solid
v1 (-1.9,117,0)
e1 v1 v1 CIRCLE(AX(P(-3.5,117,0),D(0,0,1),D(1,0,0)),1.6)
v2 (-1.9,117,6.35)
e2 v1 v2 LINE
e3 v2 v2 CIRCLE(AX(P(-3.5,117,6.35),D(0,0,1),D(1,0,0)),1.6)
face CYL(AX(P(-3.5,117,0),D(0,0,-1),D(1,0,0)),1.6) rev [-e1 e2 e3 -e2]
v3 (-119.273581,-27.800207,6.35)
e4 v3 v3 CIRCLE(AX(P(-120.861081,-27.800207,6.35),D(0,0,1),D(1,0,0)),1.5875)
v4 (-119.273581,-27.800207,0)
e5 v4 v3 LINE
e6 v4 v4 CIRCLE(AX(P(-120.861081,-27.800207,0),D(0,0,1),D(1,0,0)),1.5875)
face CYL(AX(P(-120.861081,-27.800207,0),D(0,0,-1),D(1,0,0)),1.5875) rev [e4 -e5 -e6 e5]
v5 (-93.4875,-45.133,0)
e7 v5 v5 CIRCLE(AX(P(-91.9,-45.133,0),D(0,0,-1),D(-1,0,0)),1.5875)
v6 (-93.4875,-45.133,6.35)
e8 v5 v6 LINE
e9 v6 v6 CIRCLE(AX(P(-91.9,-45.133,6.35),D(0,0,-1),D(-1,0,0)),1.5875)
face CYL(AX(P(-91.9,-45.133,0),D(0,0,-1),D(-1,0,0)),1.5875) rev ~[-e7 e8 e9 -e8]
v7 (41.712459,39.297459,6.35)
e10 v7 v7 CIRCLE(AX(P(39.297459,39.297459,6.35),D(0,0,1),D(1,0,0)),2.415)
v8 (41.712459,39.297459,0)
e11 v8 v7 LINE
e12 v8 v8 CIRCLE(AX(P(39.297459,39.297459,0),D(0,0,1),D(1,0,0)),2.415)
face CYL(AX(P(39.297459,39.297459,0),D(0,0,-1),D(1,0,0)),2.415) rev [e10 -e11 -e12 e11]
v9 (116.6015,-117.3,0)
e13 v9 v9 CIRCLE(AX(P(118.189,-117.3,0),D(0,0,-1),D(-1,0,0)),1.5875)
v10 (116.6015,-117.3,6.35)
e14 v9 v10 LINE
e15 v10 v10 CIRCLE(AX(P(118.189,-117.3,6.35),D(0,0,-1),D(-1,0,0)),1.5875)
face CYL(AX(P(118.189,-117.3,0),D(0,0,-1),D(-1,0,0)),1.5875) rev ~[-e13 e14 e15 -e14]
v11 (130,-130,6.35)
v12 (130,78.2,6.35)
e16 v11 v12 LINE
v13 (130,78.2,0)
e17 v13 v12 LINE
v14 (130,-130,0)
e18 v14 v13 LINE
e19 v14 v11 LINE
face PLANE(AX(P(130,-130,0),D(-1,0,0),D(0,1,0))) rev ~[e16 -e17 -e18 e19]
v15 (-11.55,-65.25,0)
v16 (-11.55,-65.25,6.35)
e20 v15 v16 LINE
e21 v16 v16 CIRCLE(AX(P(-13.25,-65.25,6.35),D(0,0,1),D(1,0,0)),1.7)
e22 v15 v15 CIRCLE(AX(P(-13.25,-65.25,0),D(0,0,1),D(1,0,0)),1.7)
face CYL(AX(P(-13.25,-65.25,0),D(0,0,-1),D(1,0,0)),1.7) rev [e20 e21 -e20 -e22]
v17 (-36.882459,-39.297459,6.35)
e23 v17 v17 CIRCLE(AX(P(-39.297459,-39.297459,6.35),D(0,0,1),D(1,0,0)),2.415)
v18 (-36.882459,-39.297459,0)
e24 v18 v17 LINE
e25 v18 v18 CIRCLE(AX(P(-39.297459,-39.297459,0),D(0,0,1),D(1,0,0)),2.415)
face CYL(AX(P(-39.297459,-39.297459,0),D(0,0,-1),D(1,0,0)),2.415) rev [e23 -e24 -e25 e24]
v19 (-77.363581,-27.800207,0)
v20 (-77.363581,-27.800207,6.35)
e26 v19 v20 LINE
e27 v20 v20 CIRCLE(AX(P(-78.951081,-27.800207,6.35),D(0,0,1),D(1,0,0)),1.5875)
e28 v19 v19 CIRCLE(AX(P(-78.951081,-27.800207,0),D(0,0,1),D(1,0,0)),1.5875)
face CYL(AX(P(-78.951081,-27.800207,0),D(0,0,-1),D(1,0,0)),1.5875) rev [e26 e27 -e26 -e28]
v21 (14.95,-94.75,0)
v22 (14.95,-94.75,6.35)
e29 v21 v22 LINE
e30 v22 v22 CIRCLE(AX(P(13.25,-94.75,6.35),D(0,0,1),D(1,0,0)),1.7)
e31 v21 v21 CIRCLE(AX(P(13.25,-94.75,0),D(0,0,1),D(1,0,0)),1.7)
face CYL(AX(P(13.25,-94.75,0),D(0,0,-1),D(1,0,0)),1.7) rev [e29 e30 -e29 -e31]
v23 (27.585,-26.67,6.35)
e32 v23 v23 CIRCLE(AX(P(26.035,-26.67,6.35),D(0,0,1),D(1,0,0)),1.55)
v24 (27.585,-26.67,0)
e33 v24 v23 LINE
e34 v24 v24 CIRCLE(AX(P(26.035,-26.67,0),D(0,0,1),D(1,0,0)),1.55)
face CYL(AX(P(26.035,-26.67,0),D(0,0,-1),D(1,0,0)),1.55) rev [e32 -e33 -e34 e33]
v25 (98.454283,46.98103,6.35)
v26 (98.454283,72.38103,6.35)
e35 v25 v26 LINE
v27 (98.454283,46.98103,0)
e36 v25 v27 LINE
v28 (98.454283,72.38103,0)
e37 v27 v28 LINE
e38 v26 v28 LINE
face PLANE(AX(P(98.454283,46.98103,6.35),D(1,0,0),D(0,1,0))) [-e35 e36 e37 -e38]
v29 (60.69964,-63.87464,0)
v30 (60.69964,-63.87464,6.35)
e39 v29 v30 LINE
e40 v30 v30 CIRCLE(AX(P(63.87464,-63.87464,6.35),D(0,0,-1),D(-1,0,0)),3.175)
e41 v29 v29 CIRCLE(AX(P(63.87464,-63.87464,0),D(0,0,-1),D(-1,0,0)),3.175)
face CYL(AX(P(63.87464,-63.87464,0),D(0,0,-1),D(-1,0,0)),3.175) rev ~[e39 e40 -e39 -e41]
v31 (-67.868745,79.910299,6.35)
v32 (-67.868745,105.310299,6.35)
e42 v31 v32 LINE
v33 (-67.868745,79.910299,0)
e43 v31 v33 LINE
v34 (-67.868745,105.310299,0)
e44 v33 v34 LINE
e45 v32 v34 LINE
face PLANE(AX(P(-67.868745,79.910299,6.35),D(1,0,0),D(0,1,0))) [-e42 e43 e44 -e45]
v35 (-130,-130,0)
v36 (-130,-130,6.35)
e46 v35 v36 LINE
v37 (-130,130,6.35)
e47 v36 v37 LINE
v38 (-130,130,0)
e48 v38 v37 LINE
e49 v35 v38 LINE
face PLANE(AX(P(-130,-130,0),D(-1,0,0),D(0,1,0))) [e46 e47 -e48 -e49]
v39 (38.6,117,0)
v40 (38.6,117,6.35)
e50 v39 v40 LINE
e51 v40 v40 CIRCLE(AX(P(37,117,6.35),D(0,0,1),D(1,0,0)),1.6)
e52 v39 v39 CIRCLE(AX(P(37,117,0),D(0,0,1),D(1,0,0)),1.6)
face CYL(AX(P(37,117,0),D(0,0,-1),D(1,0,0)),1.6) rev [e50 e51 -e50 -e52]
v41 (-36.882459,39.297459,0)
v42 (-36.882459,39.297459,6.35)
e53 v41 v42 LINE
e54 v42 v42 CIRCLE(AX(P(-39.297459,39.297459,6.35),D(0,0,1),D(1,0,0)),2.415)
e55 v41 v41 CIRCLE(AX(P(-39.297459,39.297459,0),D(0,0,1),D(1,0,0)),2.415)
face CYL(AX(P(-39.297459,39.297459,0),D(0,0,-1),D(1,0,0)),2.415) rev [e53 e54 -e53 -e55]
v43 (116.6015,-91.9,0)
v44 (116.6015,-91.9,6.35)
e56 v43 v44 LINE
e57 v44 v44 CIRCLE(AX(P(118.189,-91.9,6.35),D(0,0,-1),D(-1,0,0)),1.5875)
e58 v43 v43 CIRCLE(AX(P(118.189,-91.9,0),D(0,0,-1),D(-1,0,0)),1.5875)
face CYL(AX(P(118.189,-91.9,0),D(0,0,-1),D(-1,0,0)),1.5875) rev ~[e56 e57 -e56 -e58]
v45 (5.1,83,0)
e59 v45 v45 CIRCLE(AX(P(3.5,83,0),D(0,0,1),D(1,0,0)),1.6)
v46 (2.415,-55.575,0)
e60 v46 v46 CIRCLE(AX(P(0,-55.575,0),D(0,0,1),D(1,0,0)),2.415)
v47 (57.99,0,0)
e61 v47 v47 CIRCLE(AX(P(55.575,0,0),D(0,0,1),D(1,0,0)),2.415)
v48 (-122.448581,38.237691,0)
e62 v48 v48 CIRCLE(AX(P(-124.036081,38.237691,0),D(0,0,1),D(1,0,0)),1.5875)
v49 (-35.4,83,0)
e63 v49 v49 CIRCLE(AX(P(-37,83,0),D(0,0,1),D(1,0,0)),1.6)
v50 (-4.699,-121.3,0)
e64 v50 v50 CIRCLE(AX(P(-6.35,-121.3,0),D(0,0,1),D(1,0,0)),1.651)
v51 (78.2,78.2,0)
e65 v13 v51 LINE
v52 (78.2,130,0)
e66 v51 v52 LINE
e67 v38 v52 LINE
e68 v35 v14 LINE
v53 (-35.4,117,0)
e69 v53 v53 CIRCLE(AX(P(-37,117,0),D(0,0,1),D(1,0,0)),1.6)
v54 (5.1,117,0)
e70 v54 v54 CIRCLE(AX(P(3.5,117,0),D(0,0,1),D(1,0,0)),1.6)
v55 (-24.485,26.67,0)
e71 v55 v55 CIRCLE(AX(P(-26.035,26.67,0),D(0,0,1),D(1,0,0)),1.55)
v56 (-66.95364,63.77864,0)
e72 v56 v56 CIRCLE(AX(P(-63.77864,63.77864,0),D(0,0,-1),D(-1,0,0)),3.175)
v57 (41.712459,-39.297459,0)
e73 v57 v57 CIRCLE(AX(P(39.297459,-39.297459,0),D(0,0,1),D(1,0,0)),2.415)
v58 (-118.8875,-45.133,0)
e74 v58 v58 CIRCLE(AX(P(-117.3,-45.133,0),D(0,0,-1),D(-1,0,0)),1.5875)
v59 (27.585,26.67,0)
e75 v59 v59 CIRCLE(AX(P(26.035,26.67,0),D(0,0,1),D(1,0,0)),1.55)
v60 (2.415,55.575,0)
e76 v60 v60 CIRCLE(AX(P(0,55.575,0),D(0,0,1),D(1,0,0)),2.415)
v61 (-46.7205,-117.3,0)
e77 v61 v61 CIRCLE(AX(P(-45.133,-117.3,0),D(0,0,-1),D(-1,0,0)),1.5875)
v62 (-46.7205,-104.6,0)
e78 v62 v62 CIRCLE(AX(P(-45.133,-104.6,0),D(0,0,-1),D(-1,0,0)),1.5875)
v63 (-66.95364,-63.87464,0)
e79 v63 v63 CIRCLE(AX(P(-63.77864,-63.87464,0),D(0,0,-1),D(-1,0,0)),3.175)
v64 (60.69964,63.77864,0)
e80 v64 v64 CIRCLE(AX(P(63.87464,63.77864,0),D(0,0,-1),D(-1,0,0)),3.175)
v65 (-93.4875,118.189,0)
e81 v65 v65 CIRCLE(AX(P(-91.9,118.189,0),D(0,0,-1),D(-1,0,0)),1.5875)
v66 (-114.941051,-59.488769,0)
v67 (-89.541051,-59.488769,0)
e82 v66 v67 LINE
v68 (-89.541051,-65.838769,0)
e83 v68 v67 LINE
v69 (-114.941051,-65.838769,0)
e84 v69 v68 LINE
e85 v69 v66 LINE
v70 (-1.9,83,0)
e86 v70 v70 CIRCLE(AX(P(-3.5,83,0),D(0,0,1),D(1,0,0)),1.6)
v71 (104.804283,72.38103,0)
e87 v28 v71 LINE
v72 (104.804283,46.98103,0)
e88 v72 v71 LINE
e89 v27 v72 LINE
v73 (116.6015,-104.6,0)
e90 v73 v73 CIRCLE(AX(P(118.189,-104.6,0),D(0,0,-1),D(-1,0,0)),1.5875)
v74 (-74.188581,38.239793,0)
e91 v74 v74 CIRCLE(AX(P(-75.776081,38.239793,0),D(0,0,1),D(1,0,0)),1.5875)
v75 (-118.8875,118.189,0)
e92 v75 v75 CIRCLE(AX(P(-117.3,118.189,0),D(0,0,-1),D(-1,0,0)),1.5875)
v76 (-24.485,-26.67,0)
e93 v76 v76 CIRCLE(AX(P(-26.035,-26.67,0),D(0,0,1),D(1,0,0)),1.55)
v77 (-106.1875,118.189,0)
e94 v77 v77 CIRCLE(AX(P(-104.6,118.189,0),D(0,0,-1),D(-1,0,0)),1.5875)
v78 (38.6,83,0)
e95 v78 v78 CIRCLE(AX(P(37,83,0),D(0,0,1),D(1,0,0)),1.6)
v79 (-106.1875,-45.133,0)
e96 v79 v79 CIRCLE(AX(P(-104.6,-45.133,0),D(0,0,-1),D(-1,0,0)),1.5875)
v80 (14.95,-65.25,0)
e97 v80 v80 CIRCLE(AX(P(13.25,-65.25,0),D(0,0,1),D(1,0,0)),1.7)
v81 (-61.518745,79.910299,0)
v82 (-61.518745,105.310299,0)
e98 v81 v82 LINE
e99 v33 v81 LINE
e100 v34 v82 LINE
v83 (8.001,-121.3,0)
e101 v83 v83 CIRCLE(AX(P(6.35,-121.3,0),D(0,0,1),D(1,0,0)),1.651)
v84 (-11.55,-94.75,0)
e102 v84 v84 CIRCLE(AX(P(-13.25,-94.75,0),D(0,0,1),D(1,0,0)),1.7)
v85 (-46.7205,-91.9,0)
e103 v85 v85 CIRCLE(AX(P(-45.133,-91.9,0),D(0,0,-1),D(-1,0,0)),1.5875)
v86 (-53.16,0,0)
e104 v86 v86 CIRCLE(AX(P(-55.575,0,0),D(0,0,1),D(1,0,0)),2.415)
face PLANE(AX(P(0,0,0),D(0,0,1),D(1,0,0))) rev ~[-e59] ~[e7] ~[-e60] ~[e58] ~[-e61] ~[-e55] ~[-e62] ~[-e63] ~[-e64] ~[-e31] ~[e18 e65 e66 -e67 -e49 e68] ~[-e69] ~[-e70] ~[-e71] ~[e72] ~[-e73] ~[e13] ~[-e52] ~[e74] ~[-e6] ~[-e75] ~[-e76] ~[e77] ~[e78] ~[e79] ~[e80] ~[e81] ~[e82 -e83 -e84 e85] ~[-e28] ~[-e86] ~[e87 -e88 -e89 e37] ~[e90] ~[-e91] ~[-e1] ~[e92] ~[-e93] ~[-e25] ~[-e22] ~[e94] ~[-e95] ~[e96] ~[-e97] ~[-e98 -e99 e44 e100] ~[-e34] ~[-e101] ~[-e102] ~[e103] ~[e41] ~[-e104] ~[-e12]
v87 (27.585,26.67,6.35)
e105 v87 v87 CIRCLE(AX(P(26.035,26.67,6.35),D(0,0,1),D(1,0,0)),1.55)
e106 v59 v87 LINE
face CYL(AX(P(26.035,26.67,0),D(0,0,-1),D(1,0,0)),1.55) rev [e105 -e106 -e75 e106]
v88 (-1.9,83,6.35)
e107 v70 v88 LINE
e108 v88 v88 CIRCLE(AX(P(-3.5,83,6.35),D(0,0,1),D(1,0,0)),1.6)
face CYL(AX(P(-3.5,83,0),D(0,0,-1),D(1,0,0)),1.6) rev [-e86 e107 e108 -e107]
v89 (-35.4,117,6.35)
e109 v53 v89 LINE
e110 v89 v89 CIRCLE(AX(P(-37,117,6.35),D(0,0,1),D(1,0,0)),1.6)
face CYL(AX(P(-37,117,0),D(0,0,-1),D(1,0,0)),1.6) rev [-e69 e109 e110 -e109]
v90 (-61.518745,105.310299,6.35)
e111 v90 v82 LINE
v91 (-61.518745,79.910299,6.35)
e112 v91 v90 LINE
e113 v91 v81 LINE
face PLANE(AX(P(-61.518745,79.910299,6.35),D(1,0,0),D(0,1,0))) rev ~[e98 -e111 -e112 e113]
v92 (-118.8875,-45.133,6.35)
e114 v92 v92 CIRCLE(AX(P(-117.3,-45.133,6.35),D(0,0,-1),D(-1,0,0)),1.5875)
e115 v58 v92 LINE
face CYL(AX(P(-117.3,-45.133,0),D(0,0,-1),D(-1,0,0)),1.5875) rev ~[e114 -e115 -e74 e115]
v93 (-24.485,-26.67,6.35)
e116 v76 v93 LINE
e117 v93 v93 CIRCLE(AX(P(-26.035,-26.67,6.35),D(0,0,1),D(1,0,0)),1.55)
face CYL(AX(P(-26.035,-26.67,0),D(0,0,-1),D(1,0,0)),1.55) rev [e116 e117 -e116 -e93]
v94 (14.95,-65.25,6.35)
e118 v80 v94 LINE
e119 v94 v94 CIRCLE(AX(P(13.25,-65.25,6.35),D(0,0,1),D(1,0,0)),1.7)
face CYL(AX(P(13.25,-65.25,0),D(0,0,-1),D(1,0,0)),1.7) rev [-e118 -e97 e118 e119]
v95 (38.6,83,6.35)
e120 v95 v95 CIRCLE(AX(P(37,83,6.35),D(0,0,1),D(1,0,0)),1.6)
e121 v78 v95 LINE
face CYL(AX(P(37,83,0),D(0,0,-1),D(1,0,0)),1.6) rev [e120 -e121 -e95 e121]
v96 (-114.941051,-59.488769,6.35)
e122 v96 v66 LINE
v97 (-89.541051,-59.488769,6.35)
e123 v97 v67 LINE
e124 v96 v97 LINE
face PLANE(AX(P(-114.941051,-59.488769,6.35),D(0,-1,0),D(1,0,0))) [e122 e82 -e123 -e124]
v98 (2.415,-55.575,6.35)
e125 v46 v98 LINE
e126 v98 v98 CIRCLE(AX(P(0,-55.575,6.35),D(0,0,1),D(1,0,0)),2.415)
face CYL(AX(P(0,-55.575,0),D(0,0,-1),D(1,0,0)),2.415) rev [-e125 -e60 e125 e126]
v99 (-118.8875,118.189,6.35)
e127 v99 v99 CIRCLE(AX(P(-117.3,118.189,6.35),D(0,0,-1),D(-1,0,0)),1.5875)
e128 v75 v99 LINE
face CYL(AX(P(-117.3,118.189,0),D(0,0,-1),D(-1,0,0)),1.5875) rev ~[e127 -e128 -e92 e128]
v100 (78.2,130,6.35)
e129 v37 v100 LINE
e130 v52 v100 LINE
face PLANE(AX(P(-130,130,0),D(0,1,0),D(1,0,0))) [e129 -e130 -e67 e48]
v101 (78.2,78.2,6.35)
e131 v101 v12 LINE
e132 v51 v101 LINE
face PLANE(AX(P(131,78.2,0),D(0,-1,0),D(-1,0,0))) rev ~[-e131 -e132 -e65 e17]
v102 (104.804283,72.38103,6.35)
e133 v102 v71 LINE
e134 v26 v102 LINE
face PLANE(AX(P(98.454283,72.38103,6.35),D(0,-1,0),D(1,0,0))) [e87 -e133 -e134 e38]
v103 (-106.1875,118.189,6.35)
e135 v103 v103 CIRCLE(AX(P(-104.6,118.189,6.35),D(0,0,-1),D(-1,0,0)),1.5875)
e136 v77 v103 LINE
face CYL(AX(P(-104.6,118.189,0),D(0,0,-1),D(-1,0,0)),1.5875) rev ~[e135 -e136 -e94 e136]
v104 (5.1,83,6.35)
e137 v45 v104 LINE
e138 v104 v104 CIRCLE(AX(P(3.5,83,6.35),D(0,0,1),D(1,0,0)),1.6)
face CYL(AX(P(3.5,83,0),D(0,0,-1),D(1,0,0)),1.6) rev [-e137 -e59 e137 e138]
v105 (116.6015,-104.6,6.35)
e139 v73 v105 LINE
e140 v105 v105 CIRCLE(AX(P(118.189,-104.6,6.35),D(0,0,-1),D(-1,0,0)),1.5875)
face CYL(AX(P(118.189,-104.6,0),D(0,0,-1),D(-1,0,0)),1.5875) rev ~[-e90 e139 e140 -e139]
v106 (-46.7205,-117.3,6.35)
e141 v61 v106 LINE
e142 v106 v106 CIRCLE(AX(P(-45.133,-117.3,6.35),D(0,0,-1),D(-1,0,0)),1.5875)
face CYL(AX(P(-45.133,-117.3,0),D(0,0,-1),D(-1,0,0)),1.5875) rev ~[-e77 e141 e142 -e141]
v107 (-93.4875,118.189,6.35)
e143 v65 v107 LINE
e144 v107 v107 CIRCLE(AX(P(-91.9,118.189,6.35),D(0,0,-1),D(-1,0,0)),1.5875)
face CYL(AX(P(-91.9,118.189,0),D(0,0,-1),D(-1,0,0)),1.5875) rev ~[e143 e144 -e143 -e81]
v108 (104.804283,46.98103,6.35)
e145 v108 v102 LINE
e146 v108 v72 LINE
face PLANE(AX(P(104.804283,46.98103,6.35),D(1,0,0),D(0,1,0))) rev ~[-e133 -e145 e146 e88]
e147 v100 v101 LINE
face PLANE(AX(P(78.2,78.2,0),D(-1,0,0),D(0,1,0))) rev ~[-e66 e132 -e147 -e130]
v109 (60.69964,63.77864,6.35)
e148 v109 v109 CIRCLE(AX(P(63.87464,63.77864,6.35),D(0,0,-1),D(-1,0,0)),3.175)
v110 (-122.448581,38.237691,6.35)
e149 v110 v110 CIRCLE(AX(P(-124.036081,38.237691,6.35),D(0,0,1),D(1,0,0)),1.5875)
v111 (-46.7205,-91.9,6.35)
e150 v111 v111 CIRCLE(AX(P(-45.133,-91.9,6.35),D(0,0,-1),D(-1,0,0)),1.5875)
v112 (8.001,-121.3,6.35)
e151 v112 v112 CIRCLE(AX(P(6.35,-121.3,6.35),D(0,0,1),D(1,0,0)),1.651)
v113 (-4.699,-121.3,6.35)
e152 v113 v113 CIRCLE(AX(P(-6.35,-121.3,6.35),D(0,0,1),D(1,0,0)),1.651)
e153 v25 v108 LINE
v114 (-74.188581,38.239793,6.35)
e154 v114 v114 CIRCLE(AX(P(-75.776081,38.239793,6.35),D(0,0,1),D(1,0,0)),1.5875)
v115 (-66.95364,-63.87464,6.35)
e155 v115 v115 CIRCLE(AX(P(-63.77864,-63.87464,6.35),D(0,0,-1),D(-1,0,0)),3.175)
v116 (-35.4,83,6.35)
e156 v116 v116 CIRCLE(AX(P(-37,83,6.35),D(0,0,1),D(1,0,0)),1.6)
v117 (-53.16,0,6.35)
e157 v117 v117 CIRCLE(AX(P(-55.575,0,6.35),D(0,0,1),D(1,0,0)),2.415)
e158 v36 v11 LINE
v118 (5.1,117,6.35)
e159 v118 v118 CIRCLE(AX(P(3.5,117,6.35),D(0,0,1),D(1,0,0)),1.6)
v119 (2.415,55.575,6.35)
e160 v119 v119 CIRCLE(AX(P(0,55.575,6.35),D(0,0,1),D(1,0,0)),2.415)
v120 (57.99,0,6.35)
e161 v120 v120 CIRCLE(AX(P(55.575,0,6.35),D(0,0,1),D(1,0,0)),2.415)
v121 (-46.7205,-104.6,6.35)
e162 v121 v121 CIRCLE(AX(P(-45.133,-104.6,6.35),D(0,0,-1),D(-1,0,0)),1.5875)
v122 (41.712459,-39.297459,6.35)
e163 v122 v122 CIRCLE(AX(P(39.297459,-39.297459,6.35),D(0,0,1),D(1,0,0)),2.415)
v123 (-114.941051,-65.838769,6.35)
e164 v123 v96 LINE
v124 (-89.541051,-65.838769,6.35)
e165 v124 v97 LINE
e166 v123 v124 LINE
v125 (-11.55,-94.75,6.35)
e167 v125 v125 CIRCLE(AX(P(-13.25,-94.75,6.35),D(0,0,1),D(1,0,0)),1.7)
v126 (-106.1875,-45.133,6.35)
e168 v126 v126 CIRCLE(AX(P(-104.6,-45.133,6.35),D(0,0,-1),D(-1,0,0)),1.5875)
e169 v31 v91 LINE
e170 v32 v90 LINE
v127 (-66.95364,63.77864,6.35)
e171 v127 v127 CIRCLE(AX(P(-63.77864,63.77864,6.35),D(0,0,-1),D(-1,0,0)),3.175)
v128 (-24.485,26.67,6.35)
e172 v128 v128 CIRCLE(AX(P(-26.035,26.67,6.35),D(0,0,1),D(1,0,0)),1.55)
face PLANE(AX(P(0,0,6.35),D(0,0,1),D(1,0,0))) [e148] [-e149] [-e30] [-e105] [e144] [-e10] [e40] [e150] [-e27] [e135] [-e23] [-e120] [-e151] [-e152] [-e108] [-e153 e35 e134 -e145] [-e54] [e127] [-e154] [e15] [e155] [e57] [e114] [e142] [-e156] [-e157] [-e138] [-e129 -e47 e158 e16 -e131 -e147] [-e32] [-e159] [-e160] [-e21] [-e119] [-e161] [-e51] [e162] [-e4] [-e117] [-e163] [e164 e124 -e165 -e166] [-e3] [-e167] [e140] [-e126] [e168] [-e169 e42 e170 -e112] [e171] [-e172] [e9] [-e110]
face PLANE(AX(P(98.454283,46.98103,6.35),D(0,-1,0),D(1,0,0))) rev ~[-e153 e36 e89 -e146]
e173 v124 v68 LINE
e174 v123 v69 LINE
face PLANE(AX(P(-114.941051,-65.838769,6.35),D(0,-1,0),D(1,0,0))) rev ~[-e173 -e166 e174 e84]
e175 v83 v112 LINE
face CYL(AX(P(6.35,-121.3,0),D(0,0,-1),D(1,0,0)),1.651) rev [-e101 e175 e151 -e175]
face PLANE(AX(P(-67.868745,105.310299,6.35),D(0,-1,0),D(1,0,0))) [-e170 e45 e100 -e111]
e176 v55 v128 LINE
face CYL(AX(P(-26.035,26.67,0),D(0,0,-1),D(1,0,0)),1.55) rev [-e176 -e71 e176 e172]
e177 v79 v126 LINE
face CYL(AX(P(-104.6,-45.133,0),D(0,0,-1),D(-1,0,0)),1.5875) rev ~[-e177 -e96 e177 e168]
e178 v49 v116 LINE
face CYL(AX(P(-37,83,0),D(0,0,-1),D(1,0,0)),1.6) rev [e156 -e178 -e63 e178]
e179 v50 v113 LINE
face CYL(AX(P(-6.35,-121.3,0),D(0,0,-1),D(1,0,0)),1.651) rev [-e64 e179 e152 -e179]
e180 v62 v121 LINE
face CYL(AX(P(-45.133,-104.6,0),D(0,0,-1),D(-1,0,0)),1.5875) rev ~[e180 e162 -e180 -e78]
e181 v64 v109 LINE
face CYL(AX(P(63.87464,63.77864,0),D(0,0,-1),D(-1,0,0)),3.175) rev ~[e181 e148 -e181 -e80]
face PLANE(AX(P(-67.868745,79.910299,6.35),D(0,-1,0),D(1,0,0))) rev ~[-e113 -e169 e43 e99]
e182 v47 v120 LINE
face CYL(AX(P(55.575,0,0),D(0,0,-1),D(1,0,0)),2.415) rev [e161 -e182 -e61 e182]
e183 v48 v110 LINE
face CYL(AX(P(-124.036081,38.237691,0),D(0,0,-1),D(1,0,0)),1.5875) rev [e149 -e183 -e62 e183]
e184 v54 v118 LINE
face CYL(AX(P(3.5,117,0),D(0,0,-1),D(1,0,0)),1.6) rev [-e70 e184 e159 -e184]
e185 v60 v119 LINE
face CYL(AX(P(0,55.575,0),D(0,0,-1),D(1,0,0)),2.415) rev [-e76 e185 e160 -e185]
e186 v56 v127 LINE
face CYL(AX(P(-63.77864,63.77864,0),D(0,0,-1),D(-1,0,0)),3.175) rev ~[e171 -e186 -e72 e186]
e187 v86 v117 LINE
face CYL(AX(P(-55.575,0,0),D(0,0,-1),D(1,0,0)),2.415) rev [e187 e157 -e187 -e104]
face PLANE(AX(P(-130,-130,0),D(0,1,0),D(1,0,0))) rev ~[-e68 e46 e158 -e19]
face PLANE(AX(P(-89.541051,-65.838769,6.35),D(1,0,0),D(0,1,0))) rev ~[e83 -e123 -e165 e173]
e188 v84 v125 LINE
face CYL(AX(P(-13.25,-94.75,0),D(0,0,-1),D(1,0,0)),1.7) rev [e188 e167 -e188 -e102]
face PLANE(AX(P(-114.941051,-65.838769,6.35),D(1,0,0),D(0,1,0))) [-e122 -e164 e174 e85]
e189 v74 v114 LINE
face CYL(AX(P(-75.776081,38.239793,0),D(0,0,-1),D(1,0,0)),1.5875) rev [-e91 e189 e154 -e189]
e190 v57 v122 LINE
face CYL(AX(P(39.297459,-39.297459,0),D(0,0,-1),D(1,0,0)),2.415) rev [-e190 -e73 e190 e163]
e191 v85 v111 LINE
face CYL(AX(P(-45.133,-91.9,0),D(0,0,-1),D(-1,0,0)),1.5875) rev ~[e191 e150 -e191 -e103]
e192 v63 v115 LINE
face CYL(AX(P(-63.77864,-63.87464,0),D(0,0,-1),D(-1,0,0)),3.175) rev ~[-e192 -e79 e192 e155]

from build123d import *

# Parameters (mm, degrees)
SKETCH1_W           = 260
SKETCH1_H           = 260
SKETCH1_R           = 1.55
SKETCH1_R_2         = 1.5875
SKETCH1_R_3         = 1.6
SKETCH1_R_4         = 1.7
SKETCH1_R_5         = 2.415
SKETCH1_R_6         = 1.651
BOSS_EXTRUDE2_DEPTH = 6.35
SKETCH5_W           = 52.8
SKETCH5_H           = 52.8
CUT_EXTRUDE1_DEPTH  = 7.35
SKETCH6_R           = 3.175
CUT_EXTRUDE2_DEPTH  = 7.35
SKETCH7_R           = 1.5875
CUT_EXTRUDE3_DEPTH  = 7.35
SKETCH8_W           = 25.4
SKETCH8_H           = 6.35
SKETCH8_W_2         = 6.35
SKETCH8_H_2         = 25.4
CUT_EXTRUDE4_DEPTH  = 7.35


with BuildPart() as part:
    # Sketch1 → Boss-Extrude2 (new body)
    with BuildSketch(Plane.XY):
        Rectangle(SKETCH1_W, SKETCH1_H)
        with Locations((-26.035, 26.67)):
            Circle(SKETCH1_R, mode=Mode.SUBTRACT)
        with Locations((-26.035, -26.67)):
            Circle(SKETCH1_R, mode=Mode.SUBTRACT)
        with Locations((26.035, 26.67)):
            Circle(SKETCH1_R, mode=Mode.SUBTRACT)
        with Locations((26.035, -26.67)):
            Circle(SKETCH1_R, mode=Mode.SUBTRACT)
        with Locations((-124.036081104, 38.237690774)):
            Circle(SKETCH1_R_2, mode=Mode.SUBTRACT)
        with Locations((-120.861081104, -27.800206824)):
            Circle(SKETCH1_R_2, mode=Mode.SUBTRACT)
        with Locations((-75.776081104, 38.239793176)):
            Circle(SKETCH1_R_2, mode=Mode.SUBTRACT)
        with Locations((-37, 117)):
            Circle(SKETCH1_R_3, mode=Mode.SUBTRACT)
        with Locations((-37, 83)):
            Circle(SKETCH1_R_3, mode=Mode.SUBTRACT)
        with Locations((-3.5, 117)):
            Circle(SKETCH1_R_3, mode=Mode.SUBTRACT)
        with Locations((-3.5, 83)):
            Circle(SKETCH1_R_3, mode=Mode.SUBTRACT)
        with Locations((3.5, 117)):
            Circle(SKETCH1_R_3, mode=Mode.SUBTRACT)
        with Locations((37, 117)):
            Circle(SKETCH1_R_3, mode=Mode.SUBTRACT)
        with Locations((37, 83)):
            Circle(SKETCH1_R_3, mode=Mode.SUBTRACT)
        with Locations((3.5, 83)):
            Circle(SKETCH1_R_3, mode=Mode.SUBTRACT)
        with Locations((-13.25, -65.25)):
            Circle(SKETCH1_R_4, mode=Mode.SUBTRACT)
        with Locations((13.25, -65.25)):
            Circle(SKETCH1_R_4, mode=Mode.SUBTRACT)
        with Locations((13.25, -94.75)):
            Circle(SKETCH1_R_4, mode=Mode.SUBTRACT)
        with Locations((-13.25, -94.75)):
            Circle(SKETCH1_R_4, mode=Mode.SUBTRACT)
        with Locations((0, 55.575)):
            Circle(SKETCH1_R_5, mode=Mode.SUBTRACT)
        with Locations((-55.575, 0)):
            Circle(SKETCH1_R_5, mode=Mode.SUBTRACT)
        with Locations((0, -55.575)):
            Circle(SKETCH1_R_5, mode=Mode.SUBTRACT)
        with Locations((55.575, 0)):
            Circle(SKETCH1_R_5, mode=Mode.SUBTRACT)
        with Locations((-39.297459364, 39.297459364)):
            Circle(SKETCH1_R_5, mode=Mode.SUBTRACT)
        with Locations((39.297459364, 39.297459364)):
            Circle(SKETCH1_R_5, mode=Mode.SUBTRACT)
        with Locations((39.297459364, -39.297459364)):
            Circle(SKETCH1_R_5, mode=Mode.SUBTRACT)
        with Locations((-39.297459364, -39.297459364)):
            Circle(SKETCH1_R_5, mode=Mode.SUBTRACT)
        with Locations((-78.951081104, -27.800206824)):
            Circle(SKETCH1_R_2, mode=Mode.SUBTRACT)
        with Locations((6.35, -121.3)):
            Circle(SKETCH1_R_6, mode=Mode.SUBTRACT)
        with Locations((-6.35, -121.3)):
            Circle(SKETCH1_R_6, mode=Mode.SUBTRACT)
        with Locations((121.3, 126.35)):
            Circle(SKETCH1_R_6, mode=Mode.SUBTRACT)
        with Locations((121.3, 113.65)):
            Circle(SKETCH1_R_6, mode=Mode.SUBTRACT)
    extrude(amount=BOSS_EXTRUDE2_DEPTH)

    # Sketch5 → Cut-Extrude1 (cut, through all)
    with BuildSketch(Plane(origin=(0, 0, 0), x_dir=(-1, 0, 0), z_dir=(0, 0, -1))):
        with Locations((-104.6, 104.6)):
            Rectangle(SKETCH5_W, SKETCH5_H)
    extrude(amount=-CUT_EXTRUDE1_DEPTH, mode=Mode.SUBTRACT)

    # Sketch6 → Cut-Extrude2 (cut, through all)
    with BuildSketch(Plane(origin=(0, 0, 0), x_dir=(-1, 0, 0), z_dir=(0, 0, -1))):
        with Locations((63.77864005, 63.77864005)):
            Circle(SKETCH6_R)
        with Locations((-63.87464005, 63.77864005)):
            Circle(SKETCH6_R)
        with Locations((-63.87464005, -63.87464005)):
            Circle(SKETCH6_R)
        with Locations((63.77864005, -63.87464005)):
            Circle(SKETCH6_R)
    extrude(amount=-CUT_EXTRUDE2_DEPTH, mode=Mode.SUBTRACT)

    # Sketch7 → Cut-Extrude3 (cut, through all)
    with BuildSketch(Plane(origin=(0, 0, 0), x_dir=(-1, 0, 0), z_dir=(0, 0, -1))):
        with Locations((91.9, 118.189)):
            Circle(SKETCH7_R)
        with Locations((104.6, 118.189)):
            Circle(SKETCH7_R)
        with Locations((117.3, 118.189)):
            Circle(SKETCH7_R)
        with Locations((91.9, -45.133)):
            Circle(SKETCH7_R)
        with Locations((104.6, -45.133)):
            Circle(SKETCH7_R)
        with Locations((117.3, -45.133)):
            Circle(SKETCH7_R)
        with Locations((45.133, -117.3)):
            Circle(SKETCH7_R)
        with Locations((45.133, -104.6)):
            Circle(SKETCH7_R)
        with Locations((45.133, -91.9)):
            Circle(SKETCH7_R)
        with Locations((-118.189, -117.3)):
            Circle(SKETCH7_R)
        with Locations((-118.189, -104.6)):
            Circle(SKETCH7_R)
        with Locations((-118.189, -91.9)):
            Circle(SKETCH7_R)
    extrude(amount=-CUT_EXTRUDE3_DEPTH, mode=Mode.SUBTRACT)

    # Sketch8 → Cut-Extrude4 (cut, through all)
    with BuildSketch(Plane.XY.offset(6.35)):
        with Locations((-102.241050682, -62.663768992)):
            Rectangle(SKETCH8_W, SKETCH8_H)
        with Locations((-64.693745391, 92.61029866)):
            Rectangle(SKETCH8_W_2, SKETCH8_H_2)
        with Locations((101.629283102, 59.681030297)):
            Rectangle(SKETCH8_W_2, SKETCH8_H_2)
    extrude(amount=-CUT_EXTRUDE4_DEPTH, mode=Mode.SUBTRACT)


solid = part.part
